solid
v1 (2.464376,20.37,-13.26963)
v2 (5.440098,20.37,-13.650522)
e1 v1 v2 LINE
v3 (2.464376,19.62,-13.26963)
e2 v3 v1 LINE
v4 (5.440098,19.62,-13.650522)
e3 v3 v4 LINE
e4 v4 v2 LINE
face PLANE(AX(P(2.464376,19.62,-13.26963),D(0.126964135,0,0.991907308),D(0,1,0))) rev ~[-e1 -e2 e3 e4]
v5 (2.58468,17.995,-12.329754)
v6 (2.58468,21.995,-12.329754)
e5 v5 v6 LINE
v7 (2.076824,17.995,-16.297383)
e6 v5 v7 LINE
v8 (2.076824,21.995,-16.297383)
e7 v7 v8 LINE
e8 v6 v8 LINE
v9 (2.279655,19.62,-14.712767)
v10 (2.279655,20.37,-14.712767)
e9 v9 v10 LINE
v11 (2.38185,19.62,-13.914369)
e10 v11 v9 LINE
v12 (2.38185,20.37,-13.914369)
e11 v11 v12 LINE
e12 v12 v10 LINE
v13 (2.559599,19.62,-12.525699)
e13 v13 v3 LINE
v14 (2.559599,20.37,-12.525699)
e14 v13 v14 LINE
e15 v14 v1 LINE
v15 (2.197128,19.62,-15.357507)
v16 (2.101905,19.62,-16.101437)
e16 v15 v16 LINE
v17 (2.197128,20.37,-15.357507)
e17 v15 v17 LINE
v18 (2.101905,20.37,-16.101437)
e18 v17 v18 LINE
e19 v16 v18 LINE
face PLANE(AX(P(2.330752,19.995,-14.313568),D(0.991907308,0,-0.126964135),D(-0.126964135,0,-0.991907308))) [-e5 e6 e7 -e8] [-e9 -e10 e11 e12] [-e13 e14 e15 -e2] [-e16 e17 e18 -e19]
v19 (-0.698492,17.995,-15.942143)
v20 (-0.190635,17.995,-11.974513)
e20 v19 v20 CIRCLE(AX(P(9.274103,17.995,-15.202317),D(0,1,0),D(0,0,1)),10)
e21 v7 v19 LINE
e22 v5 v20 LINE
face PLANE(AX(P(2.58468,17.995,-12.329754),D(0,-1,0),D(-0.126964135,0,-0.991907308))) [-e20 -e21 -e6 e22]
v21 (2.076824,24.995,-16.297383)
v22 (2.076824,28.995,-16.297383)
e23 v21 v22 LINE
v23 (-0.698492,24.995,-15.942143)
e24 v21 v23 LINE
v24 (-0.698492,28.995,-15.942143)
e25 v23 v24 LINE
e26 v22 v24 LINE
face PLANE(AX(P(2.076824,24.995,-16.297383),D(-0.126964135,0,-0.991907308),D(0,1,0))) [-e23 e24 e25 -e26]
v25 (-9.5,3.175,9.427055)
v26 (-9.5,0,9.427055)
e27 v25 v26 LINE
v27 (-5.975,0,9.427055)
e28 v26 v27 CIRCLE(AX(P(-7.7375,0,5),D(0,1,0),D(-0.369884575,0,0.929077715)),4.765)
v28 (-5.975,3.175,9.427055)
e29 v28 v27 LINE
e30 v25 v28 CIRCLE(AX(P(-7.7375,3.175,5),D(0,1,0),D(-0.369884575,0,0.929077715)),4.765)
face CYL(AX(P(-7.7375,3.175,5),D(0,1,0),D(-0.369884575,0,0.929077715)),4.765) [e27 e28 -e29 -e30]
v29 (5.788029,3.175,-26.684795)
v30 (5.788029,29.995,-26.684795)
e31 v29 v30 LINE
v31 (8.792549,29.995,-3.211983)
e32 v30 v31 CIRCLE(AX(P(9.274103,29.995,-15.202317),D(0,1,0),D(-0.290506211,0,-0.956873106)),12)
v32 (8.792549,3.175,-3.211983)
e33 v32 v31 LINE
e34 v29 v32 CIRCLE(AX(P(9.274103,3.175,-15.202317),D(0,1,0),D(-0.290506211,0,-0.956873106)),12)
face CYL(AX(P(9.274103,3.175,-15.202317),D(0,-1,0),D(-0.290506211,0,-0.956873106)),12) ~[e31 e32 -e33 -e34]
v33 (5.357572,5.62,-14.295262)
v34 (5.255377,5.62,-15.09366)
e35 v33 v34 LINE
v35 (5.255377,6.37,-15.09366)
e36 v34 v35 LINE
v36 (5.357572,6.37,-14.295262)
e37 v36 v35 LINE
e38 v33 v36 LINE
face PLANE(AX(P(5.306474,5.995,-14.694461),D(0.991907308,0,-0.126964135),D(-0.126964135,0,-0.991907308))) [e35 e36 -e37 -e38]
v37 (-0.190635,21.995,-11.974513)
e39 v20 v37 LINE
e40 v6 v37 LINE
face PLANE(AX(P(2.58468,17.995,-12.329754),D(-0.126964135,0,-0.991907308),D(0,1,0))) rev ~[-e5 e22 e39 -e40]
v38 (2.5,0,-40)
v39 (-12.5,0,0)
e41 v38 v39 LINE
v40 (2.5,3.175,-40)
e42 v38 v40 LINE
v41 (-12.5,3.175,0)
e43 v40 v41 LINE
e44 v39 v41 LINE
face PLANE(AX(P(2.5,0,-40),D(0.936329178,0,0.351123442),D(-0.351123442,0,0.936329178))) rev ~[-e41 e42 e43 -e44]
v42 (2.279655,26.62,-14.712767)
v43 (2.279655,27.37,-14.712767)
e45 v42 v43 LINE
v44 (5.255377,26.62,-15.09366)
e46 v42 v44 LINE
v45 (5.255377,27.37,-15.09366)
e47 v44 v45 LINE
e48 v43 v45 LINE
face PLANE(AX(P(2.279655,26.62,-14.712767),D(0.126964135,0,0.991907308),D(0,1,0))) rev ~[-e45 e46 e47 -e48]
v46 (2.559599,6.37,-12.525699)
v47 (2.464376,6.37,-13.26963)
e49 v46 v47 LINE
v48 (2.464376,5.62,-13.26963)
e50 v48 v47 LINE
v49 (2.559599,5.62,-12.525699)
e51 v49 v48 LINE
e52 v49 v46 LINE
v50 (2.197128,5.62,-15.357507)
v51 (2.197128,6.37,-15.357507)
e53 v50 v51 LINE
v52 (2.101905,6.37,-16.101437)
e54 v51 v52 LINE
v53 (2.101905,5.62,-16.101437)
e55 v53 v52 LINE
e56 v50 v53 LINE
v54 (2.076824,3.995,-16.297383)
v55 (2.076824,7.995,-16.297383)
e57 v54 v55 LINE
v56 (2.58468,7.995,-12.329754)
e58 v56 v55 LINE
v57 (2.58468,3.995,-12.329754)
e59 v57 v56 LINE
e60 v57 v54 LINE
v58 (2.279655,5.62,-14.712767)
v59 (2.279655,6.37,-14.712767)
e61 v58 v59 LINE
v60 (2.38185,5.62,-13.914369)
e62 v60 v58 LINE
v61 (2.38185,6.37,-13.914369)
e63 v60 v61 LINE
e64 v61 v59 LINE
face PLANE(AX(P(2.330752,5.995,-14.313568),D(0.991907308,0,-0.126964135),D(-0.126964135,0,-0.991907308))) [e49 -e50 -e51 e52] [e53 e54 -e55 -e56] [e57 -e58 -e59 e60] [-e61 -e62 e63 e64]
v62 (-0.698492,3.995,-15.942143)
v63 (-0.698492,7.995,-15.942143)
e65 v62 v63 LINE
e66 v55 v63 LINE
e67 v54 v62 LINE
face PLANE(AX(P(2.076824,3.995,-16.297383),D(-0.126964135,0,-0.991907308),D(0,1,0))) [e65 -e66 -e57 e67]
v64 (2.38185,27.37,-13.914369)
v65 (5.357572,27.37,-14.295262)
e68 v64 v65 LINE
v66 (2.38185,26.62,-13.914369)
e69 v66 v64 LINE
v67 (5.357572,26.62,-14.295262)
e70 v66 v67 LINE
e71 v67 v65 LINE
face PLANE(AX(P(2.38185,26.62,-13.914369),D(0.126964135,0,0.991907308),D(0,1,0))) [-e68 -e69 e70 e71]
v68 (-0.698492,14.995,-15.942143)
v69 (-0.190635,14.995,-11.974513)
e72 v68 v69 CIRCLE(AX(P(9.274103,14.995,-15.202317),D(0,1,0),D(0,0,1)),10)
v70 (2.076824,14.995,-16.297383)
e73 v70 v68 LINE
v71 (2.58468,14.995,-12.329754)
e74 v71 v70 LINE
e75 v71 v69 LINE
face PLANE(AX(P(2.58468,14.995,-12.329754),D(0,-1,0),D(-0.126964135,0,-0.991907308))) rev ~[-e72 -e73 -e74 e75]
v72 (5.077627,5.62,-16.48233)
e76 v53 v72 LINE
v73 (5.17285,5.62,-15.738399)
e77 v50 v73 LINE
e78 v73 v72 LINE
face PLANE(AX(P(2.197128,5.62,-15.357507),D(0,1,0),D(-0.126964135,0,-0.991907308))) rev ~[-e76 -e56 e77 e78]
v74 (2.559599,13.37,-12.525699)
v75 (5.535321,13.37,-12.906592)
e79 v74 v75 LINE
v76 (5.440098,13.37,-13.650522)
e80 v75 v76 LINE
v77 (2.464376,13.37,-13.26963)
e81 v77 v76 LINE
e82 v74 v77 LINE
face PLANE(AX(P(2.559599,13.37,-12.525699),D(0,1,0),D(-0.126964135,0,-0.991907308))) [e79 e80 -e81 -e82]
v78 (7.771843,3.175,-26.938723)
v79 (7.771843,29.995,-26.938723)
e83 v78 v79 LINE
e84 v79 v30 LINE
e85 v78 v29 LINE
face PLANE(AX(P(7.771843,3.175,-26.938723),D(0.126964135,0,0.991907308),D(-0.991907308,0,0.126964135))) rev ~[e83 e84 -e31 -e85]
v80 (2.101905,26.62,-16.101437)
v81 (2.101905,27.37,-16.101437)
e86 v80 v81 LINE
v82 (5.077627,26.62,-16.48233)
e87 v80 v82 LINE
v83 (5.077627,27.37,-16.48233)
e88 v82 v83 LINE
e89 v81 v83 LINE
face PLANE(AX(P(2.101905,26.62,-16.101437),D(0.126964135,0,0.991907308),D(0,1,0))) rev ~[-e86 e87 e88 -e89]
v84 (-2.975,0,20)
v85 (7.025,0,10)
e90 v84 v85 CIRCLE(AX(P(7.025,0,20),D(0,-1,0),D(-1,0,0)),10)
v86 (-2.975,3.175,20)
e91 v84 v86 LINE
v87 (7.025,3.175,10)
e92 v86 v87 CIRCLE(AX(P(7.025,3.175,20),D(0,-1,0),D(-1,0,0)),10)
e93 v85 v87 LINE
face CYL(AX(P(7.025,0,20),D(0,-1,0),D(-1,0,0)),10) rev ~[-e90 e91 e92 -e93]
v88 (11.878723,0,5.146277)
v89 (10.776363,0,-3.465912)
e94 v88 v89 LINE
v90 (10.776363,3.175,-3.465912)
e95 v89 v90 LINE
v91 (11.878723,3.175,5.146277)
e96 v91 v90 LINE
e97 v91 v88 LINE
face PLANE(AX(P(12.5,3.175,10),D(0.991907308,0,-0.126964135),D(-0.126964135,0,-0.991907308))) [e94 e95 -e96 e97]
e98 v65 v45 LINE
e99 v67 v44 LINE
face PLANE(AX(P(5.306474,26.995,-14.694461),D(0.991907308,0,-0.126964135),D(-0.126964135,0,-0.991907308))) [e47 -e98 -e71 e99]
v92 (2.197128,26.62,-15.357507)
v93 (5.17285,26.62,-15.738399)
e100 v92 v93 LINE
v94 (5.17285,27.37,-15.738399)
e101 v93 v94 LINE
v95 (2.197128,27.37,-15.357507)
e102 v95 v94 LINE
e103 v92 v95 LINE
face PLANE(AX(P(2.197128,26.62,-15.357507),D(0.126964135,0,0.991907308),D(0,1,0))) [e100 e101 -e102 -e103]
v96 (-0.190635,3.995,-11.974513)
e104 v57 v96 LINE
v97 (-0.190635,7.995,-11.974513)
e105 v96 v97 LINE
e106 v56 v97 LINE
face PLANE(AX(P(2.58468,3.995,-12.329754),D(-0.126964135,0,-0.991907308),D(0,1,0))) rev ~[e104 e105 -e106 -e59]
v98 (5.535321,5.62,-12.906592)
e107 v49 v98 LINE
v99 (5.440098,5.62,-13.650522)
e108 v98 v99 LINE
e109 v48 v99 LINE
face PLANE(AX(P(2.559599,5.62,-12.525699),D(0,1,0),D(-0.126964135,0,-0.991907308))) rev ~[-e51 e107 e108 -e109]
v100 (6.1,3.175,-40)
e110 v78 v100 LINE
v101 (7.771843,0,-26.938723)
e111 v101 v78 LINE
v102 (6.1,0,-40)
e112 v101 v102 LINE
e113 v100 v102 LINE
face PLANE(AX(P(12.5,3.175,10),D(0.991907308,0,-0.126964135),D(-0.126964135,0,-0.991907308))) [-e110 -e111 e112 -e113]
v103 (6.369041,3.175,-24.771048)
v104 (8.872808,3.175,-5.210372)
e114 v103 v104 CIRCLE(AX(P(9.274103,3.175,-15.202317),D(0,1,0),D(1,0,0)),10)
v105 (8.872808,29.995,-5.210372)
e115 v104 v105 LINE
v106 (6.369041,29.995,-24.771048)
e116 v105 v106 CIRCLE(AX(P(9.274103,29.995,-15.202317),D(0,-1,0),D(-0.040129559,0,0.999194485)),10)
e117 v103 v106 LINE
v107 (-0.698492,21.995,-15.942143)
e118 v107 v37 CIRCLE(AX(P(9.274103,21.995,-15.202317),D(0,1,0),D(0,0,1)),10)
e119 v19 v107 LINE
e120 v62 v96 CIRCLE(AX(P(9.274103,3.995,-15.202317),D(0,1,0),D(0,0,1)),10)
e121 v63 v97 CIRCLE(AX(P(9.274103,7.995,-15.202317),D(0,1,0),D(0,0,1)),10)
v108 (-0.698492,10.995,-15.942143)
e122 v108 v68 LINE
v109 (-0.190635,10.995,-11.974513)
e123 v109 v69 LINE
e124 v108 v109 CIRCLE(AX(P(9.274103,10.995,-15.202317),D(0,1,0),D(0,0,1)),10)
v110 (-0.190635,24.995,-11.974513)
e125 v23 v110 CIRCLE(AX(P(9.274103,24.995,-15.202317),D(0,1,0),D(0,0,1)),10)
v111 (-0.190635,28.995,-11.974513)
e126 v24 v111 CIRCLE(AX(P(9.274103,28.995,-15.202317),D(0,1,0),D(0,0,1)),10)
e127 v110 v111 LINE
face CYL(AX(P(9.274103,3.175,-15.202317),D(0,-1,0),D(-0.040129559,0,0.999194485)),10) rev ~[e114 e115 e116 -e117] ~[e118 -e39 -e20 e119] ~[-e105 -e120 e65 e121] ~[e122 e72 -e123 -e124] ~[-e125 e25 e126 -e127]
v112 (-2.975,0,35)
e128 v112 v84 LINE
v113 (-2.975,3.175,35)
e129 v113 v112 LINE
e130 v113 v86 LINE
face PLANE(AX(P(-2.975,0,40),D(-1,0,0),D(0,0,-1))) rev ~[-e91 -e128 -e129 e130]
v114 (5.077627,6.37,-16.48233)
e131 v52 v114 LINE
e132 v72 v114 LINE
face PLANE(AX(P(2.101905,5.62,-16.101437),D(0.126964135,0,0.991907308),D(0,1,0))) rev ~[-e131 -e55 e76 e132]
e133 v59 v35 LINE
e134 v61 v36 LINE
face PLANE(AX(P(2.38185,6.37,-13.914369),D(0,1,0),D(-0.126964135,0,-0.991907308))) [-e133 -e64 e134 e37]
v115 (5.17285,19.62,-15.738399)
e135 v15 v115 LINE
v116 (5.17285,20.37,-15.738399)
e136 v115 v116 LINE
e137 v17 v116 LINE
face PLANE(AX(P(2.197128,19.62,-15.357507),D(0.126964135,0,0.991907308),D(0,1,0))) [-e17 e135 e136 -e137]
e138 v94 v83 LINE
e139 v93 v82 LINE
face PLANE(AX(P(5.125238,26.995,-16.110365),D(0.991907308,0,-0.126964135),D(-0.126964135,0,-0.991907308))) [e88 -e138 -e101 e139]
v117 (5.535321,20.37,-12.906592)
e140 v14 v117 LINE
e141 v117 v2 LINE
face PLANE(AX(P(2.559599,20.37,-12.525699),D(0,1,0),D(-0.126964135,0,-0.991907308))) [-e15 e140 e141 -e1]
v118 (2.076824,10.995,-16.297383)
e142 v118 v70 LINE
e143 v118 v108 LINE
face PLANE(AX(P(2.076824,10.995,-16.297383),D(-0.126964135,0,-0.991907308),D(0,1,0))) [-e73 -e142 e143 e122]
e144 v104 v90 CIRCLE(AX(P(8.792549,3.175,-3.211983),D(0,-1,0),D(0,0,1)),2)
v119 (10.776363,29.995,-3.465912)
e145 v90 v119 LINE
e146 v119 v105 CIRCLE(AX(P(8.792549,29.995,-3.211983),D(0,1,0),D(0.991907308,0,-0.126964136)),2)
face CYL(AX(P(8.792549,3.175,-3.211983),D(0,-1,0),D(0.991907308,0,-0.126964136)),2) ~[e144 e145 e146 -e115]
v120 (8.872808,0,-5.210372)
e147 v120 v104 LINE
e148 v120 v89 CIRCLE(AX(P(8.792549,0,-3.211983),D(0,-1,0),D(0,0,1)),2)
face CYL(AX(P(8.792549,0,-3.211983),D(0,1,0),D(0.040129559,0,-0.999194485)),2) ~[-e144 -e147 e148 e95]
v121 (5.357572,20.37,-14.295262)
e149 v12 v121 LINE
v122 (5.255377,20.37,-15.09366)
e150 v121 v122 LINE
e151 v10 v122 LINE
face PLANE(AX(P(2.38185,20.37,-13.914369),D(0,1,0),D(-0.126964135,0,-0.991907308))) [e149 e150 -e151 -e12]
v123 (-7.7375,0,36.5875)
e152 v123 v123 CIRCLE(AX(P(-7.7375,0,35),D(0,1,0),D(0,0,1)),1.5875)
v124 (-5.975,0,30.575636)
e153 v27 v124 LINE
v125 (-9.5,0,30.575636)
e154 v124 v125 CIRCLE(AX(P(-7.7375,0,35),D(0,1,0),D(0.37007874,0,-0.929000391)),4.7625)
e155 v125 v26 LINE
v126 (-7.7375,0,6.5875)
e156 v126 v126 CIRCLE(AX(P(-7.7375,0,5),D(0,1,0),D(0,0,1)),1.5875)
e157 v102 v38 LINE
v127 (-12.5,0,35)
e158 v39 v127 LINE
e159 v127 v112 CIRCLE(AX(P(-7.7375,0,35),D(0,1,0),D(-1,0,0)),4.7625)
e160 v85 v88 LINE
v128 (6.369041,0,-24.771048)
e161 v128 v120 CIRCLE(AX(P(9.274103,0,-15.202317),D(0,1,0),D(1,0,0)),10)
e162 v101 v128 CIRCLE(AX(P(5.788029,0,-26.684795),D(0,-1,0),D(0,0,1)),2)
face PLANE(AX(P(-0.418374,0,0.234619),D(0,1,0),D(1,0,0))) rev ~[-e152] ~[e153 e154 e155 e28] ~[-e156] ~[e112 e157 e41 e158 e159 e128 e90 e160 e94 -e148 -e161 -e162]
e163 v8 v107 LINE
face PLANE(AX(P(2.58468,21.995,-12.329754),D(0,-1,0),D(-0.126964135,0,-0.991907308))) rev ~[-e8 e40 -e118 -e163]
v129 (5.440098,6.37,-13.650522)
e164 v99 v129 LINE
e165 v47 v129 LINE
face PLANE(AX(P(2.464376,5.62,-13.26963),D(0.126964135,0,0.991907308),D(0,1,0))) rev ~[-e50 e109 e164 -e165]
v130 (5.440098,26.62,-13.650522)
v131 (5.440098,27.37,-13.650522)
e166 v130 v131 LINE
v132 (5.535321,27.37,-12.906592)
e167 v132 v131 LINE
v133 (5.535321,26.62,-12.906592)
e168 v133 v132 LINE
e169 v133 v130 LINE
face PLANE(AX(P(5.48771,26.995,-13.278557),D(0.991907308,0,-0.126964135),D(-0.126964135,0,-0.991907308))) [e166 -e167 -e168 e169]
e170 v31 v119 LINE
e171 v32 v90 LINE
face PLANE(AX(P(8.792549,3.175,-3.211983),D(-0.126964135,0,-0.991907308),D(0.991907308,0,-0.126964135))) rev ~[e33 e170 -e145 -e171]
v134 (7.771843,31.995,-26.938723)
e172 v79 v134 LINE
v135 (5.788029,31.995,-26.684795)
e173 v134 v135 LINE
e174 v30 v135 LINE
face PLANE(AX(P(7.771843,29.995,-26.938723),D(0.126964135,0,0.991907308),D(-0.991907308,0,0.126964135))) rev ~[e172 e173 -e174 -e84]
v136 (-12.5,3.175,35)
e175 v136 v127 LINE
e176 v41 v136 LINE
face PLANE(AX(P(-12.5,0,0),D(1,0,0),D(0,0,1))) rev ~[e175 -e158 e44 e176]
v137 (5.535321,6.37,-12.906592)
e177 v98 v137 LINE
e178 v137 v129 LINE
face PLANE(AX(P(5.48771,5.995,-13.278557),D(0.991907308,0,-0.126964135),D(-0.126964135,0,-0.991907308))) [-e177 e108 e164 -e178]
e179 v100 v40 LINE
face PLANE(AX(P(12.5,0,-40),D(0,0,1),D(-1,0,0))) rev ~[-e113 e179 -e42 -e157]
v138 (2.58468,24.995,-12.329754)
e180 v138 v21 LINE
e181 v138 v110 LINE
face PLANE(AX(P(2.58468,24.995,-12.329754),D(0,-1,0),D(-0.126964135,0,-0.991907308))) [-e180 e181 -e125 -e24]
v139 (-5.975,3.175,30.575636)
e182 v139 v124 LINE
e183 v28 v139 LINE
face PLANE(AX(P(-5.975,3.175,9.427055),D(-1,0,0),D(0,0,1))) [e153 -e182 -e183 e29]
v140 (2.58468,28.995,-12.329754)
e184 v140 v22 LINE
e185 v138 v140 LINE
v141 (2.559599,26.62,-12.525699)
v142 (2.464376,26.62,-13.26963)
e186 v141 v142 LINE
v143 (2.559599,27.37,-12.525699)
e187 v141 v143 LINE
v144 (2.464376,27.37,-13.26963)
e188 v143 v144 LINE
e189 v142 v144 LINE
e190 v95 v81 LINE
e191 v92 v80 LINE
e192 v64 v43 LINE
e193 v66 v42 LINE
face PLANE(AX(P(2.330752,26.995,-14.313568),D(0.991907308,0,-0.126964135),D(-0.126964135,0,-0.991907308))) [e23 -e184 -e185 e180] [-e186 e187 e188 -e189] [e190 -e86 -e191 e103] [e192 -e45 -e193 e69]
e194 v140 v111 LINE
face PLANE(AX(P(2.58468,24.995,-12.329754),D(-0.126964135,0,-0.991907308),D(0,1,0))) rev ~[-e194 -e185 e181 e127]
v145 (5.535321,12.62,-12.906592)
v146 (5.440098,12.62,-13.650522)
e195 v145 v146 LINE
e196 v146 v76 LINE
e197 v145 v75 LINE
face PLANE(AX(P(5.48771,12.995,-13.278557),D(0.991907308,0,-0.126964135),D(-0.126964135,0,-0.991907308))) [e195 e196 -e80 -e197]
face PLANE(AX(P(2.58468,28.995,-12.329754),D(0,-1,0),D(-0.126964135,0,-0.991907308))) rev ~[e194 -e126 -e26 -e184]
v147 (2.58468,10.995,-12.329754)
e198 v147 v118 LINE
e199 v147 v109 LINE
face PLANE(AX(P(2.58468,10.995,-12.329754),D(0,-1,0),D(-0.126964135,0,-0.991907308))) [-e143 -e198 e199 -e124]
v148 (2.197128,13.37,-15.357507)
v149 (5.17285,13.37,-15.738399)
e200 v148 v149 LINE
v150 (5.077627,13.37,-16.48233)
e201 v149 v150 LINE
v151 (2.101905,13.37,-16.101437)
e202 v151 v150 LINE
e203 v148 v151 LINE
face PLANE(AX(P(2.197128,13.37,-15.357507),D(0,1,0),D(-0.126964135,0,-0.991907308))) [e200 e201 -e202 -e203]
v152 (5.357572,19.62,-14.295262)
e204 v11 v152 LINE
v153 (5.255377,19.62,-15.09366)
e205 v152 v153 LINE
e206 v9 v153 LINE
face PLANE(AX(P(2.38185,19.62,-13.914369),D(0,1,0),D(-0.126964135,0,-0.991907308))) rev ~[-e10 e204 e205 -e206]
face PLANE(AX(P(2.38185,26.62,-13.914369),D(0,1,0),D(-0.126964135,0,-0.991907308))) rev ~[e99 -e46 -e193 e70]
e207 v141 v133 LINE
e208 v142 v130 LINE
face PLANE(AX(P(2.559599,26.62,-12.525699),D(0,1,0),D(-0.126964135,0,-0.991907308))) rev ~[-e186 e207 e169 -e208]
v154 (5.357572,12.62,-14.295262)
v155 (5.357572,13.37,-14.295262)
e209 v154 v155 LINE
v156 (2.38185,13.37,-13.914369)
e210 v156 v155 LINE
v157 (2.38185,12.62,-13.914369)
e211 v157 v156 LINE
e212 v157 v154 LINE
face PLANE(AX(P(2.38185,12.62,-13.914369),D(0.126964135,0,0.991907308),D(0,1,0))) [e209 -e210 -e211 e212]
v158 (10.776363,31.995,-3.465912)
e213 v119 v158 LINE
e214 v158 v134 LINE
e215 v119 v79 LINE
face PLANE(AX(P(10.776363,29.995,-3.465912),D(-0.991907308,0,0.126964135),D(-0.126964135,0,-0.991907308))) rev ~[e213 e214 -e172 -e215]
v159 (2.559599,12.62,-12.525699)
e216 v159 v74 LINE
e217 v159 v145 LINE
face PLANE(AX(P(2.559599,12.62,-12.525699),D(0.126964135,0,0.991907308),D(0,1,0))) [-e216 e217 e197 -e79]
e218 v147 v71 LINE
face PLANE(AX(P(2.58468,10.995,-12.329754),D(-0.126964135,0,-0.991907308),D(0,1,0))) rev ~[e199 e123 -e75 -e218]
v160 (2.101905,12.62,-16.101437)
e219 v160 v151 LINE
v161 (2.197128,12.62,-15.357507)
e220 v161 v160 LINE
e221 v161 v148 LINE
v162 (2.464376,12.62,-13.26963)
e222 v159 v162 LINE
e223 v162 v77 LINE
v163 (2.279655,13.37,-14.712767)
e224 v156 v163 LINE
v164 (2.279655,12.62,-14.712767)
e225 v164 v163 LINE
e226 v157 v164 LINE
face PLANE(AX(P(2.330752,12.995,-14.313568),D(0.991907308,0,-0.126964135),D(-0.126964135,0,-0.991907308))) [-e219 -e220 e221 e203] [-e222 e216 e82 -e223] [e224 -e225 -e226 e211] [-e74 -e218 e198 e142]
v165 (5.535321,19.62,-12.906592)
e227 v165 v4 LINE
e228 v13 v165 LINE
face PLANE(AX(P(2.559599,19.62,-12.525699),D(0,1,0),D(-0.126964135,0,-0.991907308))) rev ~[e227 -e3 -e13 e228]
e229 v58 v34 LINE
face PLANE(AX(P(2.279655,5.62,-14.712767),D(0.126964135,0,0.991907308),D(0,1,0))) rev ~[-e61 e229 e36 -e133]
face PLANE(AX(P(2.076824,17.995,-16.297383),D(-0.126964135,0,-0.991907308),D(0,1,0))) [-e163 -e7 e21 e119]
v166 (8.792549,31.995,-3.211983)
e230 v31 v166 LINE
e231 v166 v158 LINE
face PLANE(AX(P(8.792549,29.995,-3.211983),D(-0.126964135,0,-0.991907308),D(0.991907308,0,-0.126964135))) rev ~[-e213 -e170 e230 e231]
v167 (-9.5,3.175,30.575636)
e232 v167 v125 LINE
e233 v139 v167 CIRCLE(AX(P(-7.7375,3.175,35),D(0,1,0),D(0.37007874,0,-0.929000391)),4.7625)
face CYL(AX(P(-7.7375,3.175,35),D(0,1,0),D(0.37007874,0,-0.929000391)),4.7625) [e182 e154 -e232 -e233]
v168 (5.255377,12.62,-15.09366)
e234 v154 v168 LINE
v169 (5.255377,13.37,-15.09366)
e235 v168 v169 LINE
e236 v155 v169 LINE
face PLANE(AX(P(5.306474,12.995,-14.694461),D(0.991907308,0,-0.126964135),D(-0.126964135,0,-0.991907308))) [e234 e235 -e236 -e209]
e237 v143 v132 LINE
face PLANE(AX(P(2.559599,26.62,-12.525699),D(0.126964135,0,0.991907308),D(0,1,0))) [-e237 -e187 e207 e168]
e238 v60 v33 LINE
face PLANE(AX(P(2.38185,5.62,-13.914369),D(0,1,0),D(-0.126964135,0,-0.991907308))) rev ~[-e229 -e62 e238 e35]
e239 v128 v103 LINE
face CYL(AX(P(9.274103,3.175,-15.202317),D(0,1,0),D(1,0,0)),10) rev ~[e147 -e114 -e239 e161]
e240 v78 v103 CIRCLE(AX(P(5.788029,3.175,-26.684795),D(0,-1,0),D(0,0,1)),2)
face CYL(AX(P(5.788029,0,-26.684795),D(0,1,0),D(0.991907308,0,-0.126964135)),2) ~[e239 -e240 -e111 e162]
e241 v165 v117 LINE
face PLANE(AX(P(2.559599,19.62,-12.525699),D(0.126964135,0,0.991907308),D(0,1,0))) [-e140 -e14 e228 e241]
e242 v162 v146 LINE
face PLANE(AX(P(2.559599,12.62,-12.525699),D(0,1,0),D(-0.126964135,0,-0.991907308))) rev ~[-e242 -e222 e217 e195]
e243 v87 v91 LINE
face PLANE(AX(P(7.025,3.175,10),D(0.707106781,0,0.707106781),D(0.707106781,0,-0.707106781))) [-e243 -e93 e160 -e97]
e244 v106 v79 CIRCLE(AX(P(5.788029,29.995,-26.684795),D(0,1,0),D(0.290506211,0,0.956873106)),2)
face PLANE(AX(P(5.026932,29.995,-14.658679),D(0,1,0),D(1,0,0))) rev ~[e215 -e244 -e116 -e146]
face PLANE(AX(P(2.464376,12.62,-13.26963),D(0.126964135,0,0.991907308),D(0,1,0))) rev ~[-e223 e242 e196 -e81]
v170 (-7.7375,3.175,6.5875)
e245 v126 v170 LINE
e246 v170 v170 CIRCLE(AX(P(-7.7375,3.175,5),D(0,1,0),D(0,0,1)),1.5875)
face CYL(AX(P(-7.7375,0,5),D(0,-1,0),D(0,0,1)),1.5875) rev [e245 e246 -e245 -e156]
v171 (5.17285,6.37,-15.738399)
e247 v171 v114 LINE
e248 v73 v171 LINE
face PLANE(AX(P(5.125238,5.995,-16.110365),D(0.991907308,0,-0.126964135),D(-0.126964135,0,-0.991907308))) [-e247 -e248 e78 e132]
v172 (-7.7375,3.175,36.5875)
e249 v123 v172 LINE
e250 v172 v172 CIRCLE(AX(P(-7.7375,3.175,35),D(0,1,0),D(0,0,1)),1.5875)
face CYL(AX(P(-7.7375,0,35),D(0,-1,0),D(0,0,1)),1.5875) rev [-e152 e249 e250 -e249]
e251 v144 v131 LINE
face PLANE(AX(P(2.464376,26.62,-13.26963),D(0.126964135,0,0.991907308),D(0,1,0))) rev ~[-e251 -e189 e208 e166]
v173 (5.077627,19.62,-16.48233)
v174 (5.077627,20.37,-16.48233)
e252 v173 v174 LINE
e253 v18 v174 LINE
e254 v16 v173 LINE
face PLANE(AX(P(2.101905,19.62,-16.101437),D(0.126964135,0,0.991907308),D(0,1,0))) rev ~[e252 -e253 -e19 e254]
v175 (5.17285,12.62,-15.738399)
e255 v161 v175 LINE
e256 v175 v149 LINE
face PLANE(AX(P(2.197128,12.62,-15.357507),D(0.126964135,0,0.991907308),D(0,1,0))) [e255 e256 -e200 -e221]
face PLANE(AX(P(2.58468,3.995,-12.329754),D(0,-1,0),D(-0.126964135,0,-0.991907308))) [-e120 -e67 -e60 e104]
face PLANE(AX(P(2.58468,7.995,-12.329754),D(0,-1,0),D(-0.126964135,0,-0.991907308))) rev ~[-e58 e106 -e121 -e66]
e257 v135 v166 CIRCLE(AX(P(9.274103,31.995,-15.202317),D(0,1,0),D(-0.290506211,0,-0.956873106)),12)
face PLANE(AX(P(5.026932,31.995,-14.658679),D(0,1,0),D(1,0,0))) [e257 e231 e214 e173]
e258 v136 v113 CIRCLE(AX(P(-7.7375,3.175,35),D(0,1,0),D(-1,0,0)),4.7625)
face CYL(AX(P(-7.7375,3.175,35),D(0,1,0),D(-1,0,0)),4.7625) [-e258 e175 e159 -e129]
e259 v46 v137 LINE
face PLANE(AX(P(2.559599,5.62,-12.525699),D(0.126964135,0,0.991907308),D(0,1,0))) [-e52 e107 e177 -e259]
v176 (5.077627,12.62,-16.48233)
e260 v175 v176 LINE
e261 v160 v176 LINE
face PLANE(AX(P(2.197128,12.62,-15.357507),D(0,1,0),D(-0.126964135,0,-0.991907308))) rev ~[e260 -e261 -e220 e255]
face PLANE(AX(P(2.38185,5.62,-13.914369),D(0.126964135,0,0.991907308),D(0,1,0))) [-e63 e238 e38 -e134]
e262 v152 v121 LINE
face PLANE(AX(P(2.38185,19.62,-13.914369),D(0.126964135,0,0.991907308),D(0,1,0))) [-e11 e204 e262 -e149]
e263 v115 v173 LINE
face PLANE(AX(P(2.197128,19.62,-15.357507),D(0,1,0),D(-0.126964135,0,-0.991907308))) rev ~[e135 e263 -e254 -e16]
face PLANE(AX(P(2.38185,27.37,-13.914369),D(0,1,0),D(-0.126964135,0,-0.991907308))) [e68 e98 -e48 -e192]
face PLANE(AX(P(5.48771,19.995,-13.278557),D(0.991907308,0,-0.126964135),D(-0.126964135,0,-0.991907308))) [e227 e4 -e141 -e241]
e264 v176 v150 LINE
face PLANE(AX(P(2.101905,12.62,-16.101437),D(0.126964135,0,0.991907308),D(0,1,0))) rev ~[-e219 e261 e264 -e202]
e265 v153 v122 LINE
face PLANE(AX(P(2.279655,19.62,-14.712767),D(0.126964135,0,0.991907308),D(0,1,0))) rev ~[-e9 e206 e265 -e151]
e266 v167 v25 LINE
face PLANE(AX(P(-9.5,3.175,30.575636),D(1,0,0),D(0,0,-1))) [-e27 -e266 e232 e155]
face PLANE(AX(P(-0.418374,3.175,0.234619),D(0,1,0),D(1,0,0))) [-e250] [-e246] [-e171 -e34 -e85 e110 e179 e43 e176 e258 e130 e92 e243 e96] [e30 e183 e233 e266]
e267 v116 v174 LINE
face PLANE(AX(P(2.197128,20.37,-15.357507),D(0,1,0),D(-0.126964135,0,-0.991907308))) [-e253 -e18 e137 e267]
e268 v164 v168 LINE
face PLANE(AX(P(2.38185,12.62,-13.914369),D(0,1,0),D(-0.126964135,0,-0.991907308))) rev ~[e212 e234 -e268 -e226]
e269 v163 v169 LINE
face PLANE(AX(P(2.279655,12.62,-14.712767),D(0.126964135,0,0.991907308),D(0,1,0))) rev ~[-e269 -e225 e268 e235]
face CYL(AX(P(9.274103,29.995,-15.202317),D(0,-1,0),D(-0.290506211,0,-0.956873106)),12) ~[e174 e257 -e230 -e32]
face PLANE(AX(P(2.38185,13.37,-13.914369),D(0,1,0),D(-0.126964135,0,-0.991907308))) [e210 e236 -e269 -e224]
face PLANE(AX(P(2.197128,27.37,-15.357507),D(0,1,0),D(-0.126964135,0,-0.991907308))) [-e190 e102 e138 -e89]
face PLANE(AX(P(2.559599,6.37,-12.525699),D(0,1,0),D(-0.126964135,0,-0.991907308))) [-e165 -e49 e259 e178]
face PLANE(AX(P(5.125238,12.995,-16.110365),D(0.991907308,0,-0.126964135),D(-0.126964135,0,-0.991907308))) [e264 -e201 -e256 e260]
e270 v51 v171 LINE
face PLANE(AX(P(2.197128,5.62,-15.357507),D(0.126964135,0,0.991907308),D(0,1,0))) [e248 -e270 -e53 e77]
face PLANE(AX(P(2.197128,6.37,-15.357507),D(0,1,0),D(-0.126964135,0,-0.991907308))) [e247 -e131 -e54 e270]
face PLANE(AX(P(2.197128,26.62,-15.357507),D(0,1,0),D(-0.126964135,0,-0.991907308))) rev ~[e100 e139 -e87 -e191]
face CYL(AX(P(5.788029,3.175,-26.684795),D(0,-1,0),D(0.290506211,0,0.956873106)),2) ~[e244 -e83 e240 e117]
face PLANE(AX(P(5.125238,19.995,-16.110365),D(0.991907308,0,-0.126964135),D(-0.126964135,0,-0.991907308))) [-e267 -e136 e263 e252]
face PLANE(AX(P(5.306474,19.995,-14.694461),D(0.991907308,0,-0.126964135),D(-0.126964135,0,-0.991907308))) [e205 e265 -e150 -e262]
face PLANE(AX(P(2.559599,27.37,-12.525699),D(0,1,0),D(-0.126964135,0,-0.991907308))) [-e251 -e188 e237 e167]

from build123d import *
from build123d.topology import SkipClean

# Parameters (mm, degrees)
CROQUIS1_R               = 1.5875
SALIENTE_EXTRUIR1_DEPTH  = 3.175
CORTAR_EXTRUIR1_DEPTH    = 3.175
CORTAR_EXTRUIR3_DEPTH    = 10
CROQUIS4_R               = 10
CORTAR_EXTRUIR4_DEPTH    = 10
REDONDEO1_R              = 2
BOSS_EXTRUDE1_DEPTH      = 26.82
BOSS_EXTRUDE2_DEPTH      = 2
BOSS_EXTRUDE5_REACH      = 56.057
BOSS_EXTRUDE5_END_RADIUS = 10
SKETCH6_W                = 4
SKETCH6_H                = 4
SKETCH7_W                = 0.75
SKETCH7_H                = 0.75
SKETCH7_W_2              = 0.804911675
BOSS_EXTRUDE6_DEPTH      = 3
LPATTERN1_COUNT          = 4
LPATTERN1_PITCH          = 7


with BuildPart() as part:
    # Croquis1 → Saliente-Extruir1 (new body)
    with BuildSketch(Plane(origin=(0, 0, 0), x_dir=(1, 0, 0), z_dir=(0, 1, 0))):
        with BuildLine():
            Line((-12.5, 0), (-12.5, -40))
            Line((-12.5, -40), (-2.975, -40))
            Line((-2.975, -40), (-2.975, -20))
            ThreePointArc((-2.975, -20), (-0.046067812, -12.928932188), (7.025, -10))
            Line((7.025, -10), (12.5, -10))
            Line((12.5, -10), (12.5, 40))
            Line((12.5, 40), (2.5, 40))
            Line((2.5, 40), (-12.5, 0))
        make_face()
        with Locations(Location((-7.7375, -5, 0), (0, 0, 270))):
            Circle(CROQUIS1_R, mode=Mode.SUBTRACT)
        with Locations(Location((-7.7375, -35, 0), (0, 0, 270))):
            Circle(CROQUIS1_R, mode=Mode.SUBTRACT)
    extrude(amount=SALIENTE_EXTRUIR1_DEPTH)

    # Croquis2 → Cortar-Extruir1 (cut)
    with BuildSketch(Plane(origin=(0, 3.175, 0), x_dir=(1, 0, 0), z_dir=(0, 1, 0))):
        Polygon((12.5, -10), (6.1, 40), (12.5, 40), align=None)
    extrude(amount=-CORTAR_EXTRUIR1_DEPTH, mode=Mode.SUBTRACT)

    # Croquis3 → Cortar-Extruir3 (cut)
    with BuildSketch(Plane(origin=(0, 3.175, 0), x_dir=(1, 0, 0), z_dir=(0, 1, 0))):
        with BuildLine():
            ThreePointArc((-5.975, -30.575635639), (-7.7375, -30.2375), (-9.5, -30.575635639))
            Line((-9.5, -30.575635639), (-9.5, -9.427055314))
            ThreePointArc((-9.5, -9.427055314), (-7.7375, -9.765), (-5.975, -9.427055314))
            Line((-5.975, -9.427055314), (-5.975, -14.803847577))
            Line((-5.975, -14.803847577), (-5.975, -30.575635639))
        make_face()
        with BuildLine():
            ThreePointArc((-12.5, -35), (-7.7375, -39.7625), (-2.975, -35))
            Line((-2.975, -35), (-2.975, -40))
            Line((-2.975, -40), (-12.5, -40))
            Line((-12.5, -40), (-12.5, -35))
        make_face()
    extrude(amount=-CORTAR_EXTRUIR3_DEPTH, mode=Mode.SUBTRACT)

    # Croquis4 → Cortar-Extruir4 (cut)
    with BuildSketch(Plane(origin=(0, 3.175, 0), x_dir=(1, 0, 0), z_dir=(0, 1, 0))):
        with Locations((9.274103387, 15.202317292)):
            Circle(CROQUIS4_R)
        Polygon((7.025, -10), (11.878723404, -5.146276596), (12.5, -10), align=None)
    extrude(amount=-CORTAR_EXTRUIR4_DEPTH, mode=Mode.SUBTRACT)

    # Redondeo1
    redondeo1_edges = [part.edges().sort_by_distance(p)[0] for p in [
        (8.004462032, 1.5875, -25.121390375),
        (10.543744741, 1.5875, -5.283244209),
    ]]
    fillet(redondeo1_edges, radius=REDONDEO1_R)

    # Sketch1 → Boss-Extrude1 (add)
    with SkipClean():  # the faces are left unmerged after this step: merging them gives an invalid solid
        with BuildSketch(Plane(origin=(0, 3.175, 0), x_dir=(1, 0, 0), z_dir=(0, 1, 0))):
            with BuildLine():
                Line((7.771843477, 26.938722839), (5.78802886, 26.684794568))
                ThreePointArc((5.78802886, 26.684794568), (-2.628784313, 13.678747666), (8.79254868, 3.211983474))
                Line((8.79254868, 3.211983474), (10.776363297, 3.465911745))
                ThreePointArc((10.776363297, 3.465911745), (10.143802127, 4.686471223), (8.872807798, 5.210372444))
                ThreePointArc((8.872807798, 5.210372444), (-0.644969697, 13.932675937), (6.369041281, 24.771048355))
                ThreePointArc((6.369041281, 24.771048355), (7.467102295, 25.59818866), (7.771843477, 26.938722839))
            make_face()
        extrude(amount=BOSS_EXTRUDE1_DEPTH)

    # Sketch2 → Boss-Extrude2 (add)
    with SkipClean():  # the faces are left unmerged after this step: merging them gives an invalid solid
        with BuildSketch(Plane(origin=(0, 29.995, 0), x_dir=(1, 0, 0), z_dir=(0, 1, 0))):
            with BuildLine():
                Line((10.776363297, 3.465911745), (7.771843477, 26.938722839))
                Line((7.771843477, 26.938722839), (5.78802886, 26.684794568))
                ThreePointArc((5.78802886, 26.684794568), (-2.628784313, 13.678747666), (8.79254868, 3.211983474))
                Line((8.79254868, 3.211983474), (10.776363297, 3.465911745))
            make_face()
        extrude(amount=BOSS_EXTRUDE2_DEPTH)

    # Boss-Extrude5: up to this cylinder (the profile starts inside it)
    with SkipClean():  # the faces are left unmerged after this step: merging them gives an invalid solid
        boss_extrude5_end = Plane(origin=(9.274103387, 26.995, -15.202317292), z_dir=(0, 1, 0)) * Cylinder(BOSS_EXTRUDE5_END_RADIUS, 133.114, mode=Mode.PRIVATE)
        # Sketch6 → Boss-Extrude5 (add, up to the surface)
        with BuildSketch(Plane(origin=(4.095783657, 0, -0.524260308), x_dir=(-0.12696413546540503, 0, -0.9919073083234755), z_dir=(0.9919073083234755, 0, -0.12696413546540503)), mode=Mode.PRIVATE) as boss_extrude5_sk1:
            with Locations((13.901811107, 26.995)):
                Rectangle(SKETCH6_W, SKETCH6_H)
        boss_extrude5_tool1 = extrude(boss_extrude5_sk1.sketch, amount=-BOSS_EXTRUDE5_REACH, mode=Mode.PRIVATE) & boss_extrude5_end
        boss_extrude5 = boss_extrude5_tool1.solids().sort_by_distance((2.330752, 26.995, -14.313568))[0]
        add(boss_extrude5)

    # Sketch7 → Boss-Extrude6 (add)
    with SkipClean():  # the faces are left unmerged after this step: merging them gives an invalid solid
        with BuildSketch(Plane(origin=(4.095783657, 0, -0.524260308), x_dir=(-0.12696413546540503, 0, -0.9919073083234755), z_dir=(0.9919073083234755, 0, -0.12696413546540503))):
            with Locations((15.329266944, 26.995)):
                Rectangle(SKETCH7_W, SKETCH7_H)
            with Locations((13.901811107, 26.995)):
                Rectangle(SKETCH7_W_2, SKETCH7_H)
            with Locations((12.474355269, 26.995)):
                Rectangle(SKETCH7_W, SKETCH7_H)
        boss_extrude6 = extrude(amount=BOSS_EXTRUDE6_DEPTH)

    # LPattern1: Boss-Extrude5, Boss-Extrude6 ×4
    with SkipClean():  # the faces are left unmerged after this step: merging them gives an invalid solid
        with Locations(*[(0, -i * LPATTERN1_PITCH, 0) for i in range(1, LPATTERN1_COUNT)]):
            add(boss_extrude5)
            add(boss_extrude6)


solid = part.part
